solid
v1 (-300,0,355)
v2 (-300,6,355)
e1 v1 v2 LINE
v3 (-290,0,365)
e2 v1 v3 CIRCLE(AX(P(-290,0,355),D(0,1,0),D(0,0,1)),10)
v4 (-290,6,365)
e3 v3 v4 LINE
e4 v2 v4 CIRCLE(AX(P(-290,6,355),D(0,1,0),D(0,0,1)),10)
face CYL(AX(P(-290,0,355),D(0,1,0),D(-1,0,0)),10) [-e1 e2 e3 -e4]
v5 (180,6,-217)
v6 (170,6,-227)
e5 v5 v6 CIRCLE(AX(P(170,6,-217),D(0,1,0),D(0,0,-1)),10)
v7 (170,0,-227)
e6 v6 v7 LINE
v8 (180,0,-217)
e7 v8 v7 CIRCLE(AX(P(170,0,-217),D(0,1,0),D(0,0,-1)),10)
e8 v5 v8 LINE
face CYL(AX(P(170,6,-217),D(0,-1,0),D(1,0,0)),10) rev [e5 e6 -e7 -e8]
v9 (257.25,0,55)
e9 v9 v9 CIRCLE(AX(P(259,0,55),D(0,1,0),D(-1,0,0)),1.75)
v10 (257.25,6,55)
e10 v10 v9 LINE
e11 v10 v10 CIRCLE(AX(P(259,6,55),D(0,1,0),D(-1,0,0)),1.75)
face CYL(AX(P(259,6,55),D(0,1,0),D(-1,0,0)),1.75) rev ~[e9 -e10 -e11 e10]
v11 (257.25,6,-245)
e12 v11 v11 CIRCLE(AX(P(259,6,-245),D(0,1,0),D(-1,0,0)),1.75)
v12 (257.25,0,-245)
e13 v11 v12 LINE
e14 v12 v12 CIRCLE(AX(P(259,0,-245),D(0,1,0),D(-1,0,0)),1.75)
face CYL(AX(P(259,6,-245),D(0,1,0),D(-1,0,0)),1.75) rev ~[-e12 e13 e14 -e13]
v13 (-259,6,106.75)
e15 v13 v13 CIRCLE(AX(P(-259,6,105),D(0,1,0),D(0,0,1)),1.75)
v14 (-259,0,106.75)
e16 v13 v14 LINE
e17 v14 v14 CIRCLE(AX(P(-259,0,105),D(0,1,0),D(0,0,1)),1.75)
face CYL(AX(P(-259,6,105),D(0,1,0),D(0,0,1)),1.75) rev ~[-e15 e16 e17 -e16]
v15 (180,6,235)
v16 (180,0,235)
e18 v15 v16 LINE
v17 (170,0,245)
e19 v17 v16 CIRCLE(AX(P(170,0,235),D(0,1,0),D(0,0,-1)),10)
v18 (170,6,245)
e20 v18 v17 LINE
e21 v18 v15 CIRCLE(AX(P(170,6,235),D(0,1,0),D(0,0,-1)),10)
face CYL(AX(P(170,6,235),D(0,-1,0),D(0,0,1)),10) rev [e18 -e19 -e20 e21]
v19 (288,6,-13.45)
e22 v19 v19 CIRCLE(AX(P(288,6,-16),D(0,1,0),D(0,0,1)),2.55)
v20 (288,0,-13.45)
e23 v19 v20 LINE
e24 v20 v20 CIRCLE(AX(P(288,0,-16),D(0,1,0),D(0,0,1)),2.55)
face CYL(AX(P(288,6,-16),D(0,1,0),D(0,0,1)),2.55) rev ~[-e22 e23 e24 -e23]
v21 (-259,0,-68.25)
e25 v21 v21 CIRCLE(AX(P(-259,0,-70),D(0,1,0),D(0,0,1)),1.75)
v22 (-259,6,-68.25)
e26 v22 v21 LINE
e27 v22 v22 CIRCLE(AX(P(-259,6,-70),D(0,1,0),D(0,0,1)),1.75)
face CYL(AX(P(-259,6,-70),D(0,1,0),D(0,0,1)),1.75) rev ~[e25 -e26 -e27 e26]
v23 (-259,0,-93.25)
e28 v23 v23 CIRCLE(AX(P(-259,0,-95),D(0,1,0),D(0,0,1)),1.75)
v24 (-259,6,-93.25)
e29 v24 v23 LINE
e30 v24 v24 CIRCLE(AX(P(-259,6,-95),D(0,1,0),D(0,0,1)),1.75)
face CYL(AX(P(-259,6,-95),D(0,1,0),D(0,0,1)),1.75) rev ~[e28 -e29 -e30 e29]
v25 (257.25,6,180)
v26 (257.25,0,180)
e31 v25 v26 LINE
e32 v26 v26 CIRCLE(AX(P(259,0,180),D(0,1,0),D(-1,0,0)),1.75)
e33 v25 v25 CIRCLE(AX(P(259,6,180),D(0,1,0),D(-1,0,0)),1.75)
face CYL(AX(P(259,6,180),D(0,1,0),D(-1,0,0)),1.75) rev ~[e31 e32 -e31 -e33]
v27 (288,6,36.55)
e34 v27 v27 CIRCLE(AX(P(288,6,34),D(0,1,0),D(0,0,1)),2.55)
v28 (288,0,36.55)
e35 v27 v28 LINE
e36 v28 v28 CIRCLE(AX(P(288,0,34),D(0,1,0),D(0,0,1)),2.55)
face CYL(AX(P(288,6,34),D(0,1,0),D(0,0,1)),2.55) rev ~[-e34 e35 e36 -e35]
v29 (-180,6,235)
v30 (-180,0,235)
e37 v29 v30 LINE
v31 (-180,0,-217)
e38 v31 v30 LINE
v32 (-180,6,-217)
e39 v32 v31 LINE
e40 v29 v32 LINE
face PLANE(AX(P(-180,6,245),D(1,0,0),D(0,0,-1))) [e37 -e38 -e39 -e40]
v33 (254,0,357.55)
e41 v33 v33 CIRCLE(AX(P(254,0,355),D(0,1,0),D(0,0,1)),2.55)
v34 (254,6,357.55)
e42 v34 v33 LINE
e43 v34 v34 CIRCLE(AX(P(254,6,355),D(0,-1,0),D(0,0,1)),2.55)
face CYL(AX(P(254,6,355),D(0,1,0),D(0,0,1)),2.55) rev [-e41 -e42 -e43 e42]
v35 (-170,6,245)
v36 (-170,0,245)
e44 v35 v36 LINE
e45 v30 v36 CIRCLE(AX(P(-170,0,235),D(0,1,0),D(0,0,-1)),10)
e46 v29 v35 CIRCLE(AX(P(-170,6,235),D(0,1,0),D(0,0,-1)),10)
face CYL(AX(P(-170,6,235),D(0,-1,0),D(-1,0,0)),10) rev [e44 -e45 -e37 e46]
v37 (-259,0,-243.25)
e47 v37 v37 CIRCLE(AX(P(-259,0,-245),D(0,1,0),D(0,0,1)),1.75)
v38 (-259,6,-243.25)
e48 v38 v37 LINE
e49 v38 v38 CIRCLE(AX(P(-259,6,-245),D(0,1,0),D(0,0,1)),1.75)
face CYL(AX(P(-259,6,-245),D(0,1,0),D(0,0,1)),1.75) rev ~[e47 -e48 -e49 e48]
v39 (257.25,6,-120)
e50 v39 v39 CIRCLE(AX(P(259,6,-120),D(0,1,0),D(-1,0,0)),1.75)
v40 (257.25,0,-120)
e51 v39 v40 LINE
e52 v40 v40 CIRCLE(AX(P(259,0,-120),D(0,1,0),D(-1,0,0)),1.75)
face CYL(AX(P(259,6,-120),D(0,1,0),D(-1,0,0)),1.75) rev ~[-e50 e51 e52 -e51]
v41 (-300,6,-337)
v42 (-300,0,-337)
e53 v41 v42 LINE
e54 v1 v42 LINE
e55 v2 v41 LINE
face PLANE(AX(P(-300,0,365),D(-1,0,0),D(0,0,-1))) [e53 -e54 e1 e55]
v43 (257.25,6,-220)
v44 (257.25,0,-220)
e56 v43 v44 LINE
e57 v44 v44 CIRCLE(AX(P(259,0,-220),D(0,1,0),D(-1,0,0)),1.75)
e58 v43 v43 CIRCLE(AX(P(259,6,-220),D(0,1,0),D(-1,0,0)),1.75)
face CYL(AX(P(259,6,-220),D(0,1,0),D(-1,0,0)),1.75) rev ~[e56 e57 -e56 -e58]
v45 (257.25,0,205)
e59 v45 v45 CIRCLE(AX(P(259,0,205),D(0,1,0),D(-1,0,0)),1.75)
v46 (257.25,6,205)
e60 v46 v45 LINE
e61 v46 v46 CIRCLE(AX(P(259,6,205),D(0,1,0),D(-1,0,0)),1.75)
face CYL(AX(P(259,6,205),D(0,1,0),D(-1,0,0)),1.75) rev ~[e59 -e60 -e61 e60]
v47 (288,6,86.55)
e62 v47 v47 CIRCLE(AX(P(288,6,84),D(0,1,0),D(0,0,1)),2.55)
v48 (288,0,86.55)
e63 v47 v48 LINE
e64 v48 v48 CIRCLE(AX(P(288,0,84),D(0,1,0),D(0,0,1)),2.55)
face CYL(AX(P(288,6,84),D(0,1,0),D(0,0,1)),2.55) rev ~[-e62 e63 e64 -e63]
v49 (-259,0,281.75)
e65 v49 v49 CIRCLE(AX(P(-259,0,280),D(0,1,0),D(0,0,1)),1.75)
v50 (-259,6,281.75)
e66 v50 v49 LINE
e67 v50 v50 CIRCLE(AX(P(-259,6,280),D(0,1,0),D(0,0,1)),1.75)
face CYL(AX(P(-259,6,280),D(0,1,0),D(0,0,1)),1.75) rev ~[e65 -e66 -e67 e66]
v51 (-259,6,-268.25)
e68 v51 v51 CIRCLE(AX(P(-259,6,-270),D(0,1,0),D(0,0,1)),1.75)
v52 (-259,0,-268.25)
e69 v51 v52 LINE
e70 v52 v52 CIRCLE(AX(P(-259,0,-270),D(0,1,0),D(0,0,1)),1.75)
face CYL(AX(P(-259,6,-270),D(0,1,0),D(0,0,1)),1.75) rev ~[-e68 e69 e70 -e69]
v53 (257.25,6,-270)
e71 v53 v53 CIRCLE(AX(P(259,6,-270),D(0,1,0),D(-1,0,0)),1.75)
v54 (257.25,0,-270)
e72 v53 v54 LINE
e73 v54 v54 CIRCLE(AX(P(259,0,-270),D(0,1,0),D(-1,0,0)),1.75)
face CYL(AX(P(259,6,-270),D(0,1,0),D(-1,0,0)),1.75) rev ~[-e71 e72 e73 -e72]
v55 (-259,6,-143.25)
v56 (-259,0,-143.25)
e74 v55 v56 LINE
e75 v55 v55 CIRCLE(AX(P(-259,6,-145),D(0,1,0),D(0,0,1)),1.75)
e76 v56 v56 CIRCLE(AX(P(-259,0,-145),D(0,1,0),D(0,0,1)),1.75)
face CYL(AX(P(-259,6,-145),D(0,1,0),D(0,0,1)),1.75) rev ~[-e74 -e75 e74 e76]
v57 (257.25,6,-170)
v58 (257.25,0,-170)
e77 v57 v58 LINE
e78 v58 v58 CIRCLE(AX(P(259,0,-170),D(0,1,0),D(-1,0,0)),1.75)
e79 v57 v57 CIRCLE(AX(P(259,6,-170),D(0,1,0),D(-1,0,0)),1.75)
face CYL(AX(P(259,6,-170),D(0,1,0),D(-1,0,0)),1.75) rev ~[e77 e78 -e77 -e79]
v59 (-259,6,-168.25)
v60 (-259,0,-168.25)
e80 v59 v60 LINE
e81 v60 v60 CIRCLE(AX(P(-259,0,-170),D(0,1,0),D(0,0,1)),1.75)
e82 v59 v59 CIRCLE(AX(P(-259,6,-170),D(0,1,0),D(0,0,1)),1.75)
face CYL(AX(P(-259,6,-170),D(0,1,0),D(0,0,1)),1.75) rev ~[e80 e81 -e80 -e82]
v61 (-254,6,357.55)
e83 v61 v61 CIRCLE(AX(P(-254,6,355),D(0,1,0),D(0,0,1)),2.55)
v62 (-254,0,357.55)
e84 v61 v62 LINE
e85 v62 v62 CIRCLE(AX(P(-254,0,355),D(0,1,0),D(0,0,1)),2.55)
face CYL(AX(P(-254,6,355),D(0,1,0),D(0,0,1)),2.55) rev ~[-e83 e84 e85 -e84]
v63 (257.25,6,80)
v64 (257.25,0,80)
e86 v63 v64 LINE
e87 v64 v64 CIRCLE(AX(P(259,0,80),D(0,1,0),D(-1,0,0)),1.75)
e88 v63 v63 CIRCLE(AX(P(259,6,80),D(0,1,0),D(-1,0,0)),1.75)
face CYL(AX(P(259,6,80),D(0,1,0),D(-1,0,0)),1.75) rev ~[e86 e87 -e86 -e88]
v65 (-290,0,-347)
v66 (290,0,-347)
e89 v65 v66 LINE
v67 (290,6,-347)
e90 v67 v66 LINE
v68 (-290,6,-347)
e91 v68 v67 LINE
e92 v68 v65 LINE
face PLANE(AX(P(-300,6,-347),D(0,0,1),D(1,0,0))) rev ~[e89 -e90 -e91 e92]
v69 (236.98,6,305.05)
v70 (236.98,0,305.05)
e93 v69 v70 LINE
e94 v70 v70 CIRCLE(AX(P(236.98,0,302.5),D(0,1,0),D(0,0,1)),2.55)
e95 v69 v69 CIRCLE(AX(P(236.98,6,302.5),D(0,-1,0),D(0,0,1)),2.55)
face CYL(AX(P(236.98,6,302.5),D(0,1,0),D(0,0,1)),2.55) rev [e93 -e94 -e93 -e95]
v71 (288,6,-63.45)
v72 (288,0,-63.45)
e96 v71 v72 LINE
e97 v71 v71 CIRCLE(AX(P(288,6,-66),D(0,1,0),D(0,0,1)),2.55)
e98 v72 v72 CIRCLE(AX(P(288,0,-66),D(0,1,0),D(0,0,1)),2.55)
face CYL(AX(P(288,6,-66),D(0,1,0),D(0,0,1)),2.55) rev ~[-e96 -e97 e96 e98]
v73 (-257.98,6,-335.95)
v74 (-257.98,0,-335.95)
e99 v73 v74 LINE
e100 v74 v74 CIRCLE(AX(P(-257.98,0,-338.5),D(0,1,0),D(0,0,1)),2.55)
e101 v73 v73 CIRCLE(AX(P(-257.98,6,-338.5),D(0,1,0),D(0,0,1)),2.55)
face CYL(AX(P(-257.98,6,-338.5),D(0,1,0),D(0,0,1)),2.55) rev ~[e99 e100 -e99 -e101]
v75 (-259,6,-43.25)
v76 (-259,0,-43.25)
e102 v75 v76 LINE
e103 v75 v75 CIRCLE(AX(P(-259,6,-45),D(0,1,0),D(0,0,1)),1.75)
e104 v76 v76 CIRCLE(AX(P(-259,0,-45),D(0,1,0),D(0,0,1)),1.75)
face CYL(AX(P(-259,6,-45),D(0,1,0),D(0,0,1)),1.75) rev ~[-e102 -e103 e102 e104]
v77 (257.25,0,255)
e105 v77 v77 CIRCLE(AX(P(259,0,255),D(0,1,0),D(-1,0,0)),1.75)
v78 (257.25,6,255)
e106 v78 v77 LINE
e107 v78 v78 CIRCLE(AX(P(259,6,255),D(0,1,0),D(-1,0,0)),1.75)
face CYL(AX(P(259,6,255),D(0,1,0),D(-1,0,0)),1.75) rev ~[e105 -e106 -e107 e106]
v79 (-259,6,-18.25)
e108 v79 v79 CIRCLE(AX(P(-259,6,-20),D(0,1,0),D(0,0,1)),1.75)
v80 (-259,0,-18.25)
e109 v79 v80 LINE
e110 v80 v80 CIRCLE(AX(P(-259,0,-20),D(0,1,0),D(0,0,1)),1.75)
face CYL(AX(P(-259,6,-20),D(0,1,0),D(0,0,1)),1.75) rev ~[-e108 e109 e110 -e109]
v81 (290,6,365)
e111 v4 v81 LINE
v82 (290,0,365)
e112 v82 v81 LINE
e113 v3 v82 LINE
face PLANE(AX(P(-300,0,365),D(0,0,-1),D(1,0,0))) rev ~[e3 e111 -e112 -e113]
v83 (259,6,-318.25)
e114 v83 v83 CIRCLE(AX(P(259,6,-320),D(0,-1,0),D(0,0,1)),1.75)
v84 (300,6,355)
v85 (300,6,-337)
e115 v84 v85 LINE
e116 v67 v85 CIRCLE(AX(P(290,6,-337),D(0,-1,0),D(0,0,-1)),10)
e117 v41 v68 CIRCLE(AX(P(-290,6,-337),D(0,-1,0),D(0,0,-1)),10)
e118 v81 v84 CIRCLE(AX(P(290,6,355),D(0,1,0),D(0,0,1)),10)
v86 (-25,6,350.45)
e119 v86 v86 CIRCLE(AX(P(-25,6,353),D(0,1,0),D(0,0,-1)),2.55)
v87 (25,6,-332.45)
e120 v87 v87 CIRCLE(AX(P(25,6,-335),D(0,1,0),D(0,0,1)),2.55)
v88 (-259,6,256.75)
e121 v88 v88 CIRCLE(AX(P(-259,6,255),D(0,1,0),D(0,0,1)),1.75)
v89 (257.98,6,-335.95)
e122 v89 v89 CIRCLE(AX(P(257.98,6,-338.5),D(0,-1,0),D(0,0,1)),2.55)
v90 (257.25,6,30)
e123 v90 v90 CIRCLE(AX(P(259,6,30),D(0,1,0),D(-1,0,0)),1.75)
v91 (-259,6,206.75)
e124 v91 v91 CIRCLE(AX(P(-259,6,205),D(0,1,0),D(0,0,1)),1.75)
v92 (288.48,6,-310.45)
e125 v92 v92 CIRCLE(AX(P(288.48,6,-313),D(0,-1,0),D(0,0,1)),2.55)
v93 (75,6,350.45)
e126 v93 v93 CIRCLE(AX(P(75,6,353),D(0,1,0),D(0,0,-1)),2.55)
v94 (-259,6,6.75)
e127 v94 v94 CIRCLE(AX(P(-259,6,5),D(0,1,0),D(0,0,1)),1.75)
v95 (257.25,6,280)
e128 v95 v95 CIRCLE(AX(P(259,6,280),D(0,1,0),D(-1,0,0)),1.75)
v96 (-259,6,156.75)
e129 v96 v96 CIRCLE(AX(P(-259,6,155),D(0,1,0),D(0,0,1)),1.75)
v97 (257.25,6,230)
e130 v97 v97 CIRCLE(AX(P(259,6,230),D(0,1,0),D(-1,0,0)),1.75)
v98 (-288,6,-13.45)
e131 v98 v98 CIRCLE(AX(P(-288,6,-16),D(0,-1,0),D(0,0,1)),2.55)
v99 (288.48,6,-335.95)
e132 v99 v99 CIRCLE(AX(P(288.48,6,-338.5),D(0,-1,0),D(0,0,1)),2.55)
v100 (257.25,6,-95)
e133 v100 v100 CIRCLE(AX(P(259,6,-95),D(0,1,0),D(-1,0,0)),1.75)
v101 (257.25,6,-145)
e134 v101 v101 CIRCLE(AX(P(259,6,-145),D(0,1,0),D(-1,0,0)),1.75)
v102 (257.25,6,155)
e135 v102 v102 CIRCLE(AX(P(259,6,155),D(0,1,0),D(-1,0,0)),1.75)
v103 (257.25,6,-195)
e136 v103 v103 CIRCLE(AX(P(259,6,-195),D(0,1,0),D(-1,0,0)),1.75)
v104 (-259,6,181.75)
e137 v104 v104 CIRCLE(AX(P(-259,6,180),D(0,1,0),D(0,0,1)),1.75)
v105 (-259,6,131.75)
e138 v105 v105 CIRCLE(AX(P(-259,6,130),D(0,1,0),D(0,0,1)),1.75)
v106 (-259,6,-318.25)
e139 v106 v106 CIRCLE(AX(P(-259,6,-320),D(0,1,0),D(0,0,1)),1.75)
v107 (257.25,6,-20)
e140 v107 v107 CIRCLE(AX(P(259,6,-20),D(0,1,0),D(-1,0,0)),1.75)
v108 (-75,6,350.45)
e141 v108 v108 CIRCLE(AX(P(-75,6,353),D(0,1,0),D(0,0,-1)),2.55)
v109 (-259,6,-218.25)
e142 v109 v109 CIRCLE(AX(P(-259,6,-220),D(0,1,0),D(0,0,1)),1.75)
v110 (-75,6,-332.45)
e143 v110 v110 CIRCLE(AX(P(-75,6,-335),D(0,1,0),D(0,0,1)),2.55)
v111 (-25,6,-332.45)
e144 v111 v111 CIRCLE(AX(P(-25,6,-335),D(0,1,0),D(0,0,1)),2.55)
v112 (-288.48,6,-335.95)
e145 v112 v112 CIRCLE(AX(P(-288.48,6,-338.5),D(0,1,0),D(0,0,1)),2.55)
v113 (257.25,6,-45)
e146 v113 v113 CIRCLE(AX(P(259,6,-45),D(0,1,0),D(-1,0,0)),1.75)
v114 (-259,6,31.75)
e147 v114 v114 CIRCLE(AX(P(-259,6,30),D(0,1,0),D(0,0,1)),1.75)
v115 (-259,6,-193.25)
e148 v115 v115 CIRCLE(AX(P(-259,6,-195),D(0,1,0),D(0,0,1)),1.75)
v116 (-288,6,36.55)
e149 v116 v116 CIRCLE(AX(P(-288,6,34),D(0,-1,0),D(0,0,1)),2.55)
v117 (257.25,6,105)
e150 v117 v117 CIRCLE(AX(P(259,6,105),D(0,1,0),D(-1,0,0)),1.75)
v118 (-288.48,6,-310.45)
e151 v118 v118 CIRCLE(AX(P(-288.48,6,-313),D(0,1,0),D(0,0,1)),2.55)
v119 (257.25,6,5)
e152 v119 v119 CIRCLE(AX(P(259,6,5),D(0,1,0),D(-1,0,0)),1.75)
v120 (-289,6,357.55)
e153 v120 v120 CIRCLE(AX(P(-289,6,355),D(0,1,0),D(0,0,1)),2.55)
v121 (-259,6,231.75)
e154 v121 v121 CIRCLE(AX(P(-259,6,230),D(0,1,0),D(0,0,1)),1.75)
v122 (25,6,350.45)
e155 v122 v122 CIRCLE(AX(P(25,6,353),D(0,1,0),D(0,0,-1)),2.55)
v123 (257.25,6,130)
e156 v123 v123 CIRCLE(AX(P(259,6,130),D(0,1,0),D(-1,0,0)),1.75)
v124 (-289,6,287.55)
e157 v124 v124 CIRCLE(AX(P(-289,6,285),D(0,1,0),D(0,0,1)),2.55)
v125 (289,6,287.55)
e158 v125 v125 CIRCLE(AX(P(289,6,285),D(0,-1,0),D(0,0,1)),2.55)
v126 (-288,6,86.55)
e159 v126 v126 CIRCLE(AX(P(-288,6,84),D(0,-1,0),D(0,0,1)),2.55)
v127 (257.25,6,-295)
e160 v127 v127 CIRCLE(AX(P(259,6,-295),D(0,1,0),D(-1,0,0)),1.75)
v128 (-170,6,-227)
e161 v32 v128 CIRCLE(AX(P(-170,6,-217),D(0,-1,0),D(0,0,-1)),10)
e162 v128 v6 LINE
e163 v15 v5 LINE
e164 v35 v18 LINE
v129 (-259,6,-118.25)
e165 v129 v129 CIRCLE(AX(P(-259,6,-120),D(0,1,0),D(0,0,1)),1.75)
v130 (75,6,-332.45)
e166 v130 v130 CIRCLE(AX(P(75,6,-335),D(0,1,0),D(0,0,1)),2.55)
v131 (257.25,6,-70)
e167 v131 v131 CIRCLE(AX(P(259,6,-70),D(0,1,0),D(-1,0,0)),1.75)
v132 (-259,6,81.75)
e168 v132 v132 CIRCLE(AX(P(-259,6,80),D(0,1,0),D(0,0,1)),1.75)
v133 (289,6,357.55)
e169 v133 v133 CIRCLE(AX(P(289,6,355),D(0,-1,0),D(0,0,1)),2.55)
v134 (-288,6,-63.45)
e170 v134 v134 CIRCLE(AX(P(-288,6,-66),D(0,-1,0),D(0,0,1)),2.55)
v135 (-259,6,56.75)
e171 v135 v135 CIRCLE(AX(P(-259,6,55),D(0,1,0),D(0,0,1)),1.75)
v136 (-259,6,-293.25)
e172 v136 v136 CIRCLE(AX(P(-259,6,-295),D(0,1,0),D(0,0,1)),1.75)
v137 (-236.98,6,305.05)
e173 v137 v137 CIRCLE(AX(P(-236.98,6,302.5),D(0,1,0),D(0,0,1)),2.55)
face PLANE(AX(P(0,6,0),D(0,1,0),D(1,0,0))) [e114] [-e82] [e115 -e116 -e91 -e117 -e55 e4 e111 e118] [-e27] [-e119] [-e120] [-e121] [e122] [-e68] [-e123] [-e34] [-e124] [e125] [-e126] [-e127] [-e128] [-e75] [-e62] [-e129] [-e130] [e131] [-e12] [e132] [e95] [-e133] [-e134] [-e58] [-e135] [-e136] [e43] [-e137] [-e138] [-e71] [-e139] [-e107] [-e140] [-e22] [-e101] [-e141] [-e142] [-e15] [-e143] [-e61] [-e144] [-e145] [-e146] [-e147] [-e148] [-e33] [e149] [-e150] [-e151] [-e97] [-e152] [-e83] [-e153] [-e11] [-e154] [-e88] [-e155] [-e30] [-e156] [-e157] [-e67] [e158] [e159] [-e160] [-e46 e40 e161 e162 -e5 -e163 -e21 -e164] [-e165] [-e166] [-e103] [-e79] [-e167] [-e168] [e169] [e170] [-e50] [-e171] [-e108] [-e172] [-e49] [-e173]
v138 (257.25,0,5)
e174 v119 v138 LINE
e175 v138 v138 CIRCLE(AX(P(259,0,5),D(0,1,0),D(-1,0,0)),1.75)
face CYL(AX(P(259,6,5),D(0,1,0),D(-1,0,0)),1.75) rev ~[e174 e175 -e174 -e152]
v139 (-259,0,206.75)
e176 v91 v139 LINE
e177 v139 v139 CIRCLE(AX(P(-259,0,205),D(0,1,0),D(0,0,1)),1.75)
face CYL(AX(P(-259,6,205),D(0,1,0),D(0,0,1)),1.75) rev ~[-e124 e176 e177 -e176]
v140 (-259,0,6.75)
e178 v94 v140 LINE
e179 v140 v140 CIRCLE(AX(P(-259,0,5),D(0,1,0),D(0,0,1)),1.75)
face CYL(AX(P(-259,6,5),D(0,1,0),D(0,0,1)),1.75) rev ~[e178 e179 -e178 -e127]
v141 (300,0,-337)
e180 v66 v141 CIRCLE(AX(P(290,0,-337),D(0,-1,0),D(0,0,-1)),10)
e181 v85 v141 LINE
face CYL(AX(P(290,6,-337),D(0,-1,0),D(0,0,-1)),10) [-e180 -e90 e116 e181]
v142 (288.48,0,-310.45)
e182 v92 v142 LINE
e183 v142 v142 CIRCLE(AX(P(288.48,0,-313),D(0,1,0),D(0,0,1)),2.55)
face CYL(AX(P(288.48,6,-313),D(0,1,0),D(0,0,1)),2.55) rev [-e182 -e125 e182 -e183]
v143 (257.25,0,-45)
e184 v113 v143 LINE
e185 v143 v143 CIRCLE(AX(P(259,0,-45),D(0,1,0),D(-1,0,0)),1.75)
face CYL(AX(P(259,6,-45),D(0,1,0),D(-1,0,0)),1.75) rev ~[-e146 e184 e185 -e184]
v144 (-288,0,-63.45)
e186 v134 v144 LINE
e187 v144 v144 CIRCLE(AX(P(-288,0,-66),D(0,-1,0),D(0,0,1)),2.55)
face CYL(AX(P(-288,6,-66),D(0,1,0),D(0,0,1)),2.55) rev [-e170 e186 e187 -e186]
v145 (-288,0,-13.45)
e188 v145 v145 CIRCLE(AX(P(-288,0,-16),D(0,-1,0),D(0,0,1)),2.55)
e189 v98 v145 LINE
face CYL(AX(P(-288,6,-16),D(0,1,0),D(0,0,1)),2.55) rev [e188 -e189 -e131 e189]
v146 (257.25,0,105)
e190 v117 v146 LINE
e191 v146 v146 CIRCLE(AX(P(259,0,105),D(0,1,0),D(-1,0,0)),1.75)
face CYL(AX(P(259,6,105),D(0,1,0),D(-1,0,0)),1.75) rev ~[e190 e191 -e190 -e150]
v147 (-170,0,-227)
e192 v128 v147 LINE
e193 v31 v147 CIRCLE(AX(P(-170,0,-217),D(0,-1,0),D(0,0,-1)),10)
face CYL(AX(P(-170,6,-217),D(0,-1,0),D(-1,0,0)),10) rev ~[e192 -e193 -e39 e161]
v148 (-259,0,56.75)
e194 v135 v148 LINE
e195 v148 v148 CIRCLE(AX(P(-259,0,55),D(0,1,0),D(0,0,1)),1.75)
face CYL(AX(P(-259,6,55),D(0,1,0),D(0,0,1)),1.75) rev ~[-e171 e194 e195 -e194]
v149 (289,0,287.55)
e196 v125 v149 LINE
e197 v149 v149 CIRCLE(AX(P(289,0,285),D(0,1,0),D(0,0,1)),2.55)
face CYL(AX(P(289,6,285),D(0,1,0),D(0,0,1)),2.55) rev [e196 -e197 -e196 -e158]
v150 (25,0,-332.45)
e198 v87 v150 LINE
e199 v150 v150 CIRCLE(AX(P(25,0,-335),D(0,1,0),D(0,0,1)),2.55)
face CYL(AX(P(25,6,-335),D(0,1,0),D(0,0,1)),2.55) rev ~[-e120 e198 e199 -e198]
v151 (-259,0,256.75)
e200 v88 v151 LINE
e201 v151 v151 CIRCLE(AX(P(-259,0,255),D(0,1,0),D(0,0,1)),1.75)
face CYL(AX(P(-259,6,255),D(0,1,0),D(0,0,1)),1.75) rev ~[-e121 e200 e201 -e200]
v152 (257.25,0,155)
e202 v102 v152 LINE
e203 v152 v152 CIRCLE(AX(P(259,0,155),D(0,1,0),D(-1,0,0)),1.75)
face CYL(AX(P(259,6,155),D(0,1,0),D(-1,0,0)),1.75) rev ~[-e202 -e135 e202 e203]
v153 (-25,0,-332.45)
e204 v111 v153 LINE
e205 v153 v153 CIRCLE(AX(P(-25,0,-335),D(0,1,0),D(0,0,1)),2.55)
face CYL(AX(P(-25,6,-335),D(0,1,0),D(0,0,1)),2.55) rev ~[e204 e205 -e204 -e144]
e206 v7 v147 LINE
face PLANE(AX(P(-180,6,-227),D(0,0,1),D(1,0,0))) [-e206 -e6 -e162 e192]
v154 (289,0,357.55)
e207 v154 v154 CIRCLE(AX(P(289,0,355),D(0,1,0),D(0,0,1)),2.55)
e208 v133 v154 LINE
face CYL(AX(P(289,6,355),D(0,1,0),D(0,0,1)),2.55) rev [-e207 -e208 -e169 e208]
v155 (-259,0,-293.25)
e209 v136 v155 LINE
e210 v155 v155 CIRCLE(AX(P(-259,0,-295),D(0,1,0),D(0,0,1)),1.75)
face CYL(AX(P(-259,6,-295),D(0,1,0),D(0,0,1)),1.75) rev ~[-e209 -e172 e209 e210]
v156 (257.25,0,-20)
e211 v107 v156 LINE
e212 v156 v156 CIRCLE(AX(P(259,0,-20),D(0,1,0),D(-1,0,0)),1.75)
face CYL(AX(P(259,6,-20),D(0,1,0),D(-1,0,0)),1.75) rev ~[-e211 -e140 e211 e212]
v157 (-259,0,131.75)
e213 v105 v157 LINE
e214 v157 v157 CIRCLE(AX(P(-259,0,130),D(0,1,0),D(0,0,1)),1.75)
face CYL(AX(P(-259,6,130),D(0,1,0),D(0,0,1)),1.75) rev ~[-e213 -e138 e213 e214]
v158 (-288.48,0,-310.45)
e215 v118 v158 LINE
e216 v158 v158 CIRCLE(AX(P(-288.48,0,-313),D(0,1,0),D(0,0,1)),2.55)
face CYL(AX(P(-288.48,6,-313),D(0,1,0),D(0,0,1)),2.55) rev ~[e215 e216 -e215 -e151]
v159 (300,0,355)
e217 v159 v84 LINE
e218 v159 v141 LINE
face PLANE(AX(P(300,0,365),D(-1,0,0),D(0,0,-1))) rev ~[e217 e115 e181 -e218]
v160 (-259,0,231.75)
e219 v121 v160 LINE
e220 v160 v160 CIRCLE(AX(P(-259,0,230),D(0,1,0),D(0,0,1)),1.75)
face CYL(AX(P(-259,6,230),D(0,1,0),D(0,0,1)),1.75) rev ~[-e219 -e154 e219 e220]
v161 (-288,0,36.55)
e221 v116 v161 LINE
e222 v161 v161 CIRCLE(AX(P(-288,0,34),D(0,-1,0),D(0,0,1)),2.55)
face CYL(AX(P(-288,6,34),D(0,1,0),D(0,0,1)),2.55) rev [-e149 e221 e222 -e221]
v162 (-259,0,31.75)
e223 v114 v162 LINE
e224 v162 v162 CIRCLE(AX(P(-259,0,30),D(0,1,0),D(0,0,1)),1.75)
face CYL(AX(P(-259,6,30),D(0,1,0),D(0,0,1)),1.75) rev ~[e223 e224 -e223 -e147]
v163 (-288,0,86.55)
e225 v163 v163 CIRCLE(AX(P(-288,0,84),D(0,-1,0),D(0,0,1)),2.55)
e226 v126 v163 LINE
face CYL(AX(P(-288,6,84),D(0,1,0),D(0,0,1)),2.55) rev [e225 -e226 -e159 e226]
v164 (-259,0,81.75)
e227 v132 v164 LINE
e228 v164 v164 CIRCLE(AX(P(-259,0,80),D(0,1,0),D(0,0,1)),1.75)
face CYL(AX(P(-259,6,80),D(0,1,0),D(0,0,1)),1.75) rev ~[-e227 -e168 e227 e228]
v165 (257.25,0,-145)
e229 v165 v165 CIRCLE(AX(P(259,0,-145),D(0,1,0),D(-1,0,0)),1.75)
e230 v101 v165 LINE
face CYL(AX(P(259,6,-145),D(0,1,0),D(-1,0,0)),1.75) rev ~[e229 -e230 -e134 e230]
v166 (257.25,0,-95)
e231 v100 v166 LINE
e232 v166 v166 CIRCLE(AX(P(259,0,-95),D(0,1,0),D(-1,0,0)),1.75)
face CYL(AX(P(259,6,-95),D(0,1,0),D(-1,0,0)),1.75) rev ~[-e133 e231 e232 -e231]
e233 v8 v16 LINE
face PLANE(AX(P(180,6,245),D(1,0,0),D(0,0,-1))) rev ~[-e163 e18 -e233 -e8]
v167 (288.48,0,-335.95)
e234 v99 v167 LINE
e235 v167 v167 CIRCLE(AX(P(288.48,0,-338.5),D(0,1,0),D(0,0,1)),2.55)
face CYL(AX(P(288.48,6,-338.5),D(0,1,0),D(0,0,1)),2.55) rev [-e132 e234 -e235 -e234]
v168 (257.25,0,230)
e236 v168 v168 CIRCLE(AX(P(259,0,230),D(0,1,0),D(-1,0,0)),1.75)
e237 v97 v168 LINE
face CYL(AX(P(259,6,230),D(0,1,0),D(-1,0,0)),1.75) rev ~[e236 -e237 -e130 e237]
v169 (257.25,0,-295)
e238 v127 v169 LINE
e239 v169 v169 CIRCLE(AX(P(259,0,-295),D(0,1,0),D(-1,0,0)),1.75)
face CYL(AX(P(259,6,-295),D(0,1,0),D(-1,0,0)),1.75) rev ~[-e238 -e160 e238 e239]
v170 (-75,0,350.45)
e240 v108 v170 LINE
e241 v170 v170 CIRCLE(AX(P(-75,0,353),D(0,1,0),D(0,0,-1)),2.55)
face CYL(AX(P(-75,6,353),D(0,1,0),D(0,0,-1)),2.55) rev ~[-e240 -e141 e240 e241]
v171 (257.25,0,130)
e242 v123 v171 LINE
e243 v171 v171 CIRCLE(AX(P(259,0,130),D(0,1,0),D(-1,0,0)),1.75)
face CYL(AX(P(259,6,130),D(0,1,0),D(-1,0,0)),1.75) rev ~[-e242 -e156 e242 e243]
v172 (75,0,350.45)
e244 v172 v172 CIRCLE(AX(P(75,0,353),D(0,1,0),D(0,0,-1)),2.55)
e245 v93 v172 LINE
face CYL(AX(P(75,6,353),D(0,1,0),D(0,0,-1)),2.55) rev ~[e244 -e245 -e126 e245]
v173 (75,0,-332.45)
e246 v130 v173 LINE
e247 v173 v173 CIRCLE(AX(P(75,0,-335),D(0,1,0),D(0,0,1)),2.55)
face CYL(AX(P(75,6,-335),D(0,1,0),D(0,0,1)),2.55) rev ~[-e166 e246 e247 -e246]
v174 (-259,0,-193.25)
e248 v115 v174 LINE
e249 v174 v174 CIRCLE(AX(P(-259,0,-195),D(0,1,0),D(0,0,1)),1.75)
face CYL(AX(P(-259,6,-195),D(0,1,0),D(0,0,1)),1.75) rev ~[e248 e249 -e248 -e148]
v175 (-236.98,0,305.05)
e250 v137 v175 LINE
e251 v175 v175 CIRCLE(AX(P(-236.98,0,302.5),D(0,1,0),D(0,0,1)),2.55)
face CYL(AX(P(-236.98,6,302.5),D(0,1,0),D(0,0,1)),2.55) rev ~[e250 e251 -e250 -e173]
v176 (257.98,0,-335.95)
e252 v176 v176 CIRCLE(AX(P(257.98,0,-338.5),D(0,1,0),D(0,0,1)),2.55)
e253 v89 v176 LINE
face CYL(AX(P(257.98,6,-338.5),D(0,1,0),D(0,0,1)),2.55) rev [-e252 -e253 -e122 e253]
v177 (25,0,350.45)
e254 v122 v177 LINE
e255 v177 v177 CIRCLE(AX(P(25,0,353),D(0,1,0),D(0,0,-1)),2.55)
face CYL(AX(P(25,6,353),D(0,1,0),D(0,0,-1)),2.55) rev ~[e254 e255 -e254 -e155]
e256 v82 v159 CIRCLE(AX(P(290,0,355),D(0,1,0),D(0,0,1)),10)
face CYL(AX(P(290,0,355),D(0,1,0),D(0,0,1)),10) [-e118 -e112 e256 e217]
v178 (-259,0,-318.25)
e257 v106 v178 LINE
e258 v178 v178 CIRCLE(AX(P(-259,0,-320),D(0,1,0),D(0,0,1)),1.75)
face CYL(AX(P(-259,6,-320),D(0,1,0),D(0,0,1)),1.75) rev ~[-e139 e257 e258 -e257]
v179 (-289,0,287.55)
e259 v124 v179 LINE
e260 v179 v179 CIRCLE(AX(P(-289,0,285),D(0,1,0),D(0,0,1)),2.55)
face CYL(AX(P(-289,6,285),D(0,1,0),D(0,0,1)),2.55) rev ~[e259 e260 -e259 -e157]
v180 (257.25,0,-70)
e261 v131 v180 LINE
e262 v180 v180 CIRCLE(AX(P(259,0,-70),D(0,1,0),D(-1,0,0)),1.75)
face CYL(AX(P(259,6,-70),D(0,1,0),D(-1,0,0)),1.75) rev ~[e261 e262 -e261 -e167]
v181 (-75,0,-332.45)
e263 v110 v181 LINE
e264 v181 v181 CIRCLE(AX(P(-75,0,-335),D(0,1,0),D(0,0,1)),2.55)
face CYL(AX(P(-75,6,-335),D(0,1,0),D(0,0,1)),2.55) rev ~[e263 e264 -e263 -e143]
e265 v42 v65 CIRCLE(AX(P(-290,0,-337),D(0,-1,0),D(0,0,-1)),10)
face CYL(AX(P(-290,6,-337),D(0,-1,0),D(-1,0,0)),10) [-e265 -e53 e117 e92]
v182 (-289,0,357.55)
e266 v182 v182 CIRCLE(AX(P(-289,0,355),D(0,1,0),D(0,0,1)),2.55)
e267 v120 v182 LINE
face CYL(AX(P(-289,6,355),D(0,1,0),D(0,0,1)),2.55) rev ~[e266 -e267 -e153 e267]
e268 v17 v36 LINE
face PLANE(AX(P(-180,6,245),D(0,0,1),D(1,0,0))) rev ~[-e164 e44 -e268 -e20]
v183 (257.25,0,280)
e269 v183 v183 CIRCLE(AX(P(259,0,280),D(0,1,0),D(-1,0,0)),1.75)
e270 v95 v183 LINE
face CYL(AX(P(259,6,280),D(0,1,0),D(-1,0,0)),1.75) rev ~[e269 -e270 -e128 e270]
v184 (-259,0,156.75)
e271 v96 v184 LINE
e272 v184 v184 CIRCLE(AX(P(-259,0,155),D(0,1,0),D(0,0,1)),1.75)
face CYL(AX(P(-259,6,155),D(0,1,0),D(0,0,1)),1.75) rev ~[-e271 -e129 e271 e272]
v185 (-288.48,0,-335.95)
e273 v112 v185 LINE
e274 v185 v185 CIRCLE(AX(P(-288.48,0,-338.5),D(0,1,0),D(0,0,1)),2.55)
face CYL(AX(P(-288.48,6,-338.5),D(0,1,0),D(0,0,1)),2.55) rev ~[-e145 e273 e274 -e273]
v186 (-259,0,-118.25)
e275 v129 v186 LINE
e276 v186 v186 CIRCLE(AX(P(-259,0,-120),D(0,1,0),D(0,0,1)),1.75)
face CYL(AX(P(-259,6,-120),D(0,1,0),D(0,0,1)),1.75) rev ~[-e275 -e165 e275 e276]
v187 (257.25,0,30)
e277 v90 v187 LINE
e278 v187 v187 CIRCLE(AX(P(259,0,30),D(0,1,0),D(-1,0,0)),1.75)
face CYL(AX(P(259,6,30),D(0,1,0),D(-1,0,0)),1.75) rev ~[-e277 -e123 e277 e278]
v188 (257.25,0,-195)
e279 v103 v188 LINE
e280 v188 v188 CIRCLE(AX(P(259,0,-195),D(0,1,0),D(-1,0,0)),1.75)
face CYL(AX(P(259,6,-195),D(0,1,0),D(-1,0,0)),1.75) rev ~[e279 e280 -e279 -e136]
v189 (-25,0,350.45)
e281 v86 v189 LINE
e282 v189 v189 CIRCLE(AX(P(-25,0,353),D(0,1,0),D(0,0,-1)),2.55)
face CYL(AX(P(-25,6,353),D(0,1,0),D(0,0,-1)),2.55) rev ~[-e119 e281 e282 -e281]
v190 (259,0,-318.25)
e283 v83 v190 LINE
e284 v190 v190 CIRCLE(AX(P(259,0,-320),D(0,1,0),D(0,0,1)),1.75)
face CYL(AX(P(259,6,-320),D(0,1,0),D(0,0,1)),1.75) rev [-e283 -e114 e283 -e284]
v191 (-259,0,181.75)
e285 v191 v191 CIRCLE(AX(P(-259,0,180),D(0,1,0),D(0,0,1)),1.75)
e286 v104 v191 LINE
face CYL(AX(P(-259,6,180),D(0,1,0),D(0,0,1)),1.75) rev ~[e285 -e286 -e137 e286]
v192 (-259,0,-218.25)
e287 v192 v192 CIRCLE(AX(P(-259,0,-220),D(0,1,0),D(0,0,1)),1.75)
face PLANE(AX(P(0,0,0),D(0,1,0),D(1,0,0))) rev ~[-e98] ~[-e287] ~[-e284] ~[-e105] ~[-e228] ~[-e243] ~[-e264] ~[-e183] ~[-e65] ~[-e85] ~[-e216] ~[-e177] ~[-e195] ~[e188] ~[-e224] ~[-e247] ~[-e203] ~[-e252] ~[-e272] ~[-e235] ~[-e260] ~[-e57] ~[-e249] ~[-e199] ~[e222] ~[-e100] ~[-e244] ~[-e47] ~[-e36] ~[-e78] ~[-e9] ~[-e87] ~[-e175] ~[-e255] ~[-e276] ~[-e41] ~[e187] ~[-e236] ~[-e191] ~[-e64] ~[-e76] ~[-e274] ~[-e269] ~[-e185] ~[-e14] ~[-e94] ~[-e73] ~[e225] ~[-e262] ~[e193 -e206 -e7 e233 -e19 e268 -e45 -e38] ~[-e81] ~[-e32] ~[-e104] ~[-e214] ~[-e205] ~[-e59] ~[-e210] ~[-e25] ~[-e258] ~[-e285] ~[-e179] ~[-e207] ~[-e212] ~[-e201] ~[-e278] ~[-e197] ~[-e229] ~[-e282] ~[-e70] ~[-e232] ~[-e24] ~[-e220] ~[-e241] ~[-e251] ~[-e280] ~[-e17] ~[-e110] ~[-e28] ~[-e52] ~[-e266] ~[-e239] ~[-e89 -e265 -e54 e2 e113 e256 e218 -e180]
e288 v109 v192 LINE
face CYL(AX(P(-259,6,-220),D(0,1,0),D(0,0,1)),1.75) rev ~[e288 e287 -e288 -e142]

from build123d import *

# Parameters (mm, degrees)
SKETCH1_W                = 600
SKETCH1_H                = 730
BOSS_EXTRUDE1_DEPTH      = 6
SKETCH2_R                = 1.75
CUT_EXTRUDE1_DEPTH       = 473.505026428
LPATTERN1_COUNT          = 25
LPATTERN1_PITCH          = 25
MIRROR2_COPY_1_SKETCH_R  = 1.75
MIRROR2_COPY_1_DEPTH     = 473.505026428
MIRROR2_COPY_2_SKETCH_R  = 1.75
MIRROR2_COPY_2_DEPTH     = 473.505026428
MIRROR2_COPY_3_SKETCH_R  = 1.75
MIRROR2_COPY_3_DEPTH     = 473.505026428
MIRROR2_COPY_4_SKETCH_R  = 1.75
MIRROR2_COPY_4_DEPTH     = 473.505026428
MIRROR2_COPY_5_SKETCH_R  = 1.75
MIRROR2_COPY_5_DEPTH     = 473.505026428
MIRROR2_COPY_6_SKETCH_R  = 1.75
MIRROR2_COPY_6_DEPTH     = 473.505026428
MIRROR2_COPY_7_SKETCH_R  = 1.75
MIRROR2_COPY_7_DEPTH     = 473.505026428
MIRROR2_COPY_8_SKETCH_R  = 1.75
MIRROR2_COPY_8_DEPTH     = 473.505026428
MIRROR2_COPY_9_SKETCH_R  = 1.75
MIRROR2_COPY_9_DEPTH     = 473.505026428
MIRROR2_COPY_10_SKETCH_R = 1.75
MIRROR2_COPY_10_DEPTH    = 473.505026428
MIRROR2_COPY_11_SKETCH_R = 1.75
MIRROR2_COPY_11_DEPTH    = 473.505026428
MIRROR2_COPY_12_SKETCH_R = 1.75
MIRROR2_COPY_12_DEPTH    = 473.505026428
MIRROR2_COPY_13_SKETCH_R = 1.75
MIRROR2_COPY_13_DEPTH    = 473.505026428
MIRROR2_COPY_14_SKETCH_R = 1.75
MIRROR2_COPY_14_DEPTH    = 473.505026428
MIRROR2_COPY_15_SKETCH_R = 1.75
MIRROR2_COPY_15_DEPTH    = 473.505026428
MIRROR2_COPY_16_SKETCH_R = 1.75
MIRROR2_COPY_16_DEPTH    = 473.505026428
MIRROR2_COPY_17_SKETCH_R = 1.75
MIRROR2_COPY_17_DEPTH    = 473.505026428
MIRROR2_COPY_18_SKETCH_R = 1.75
MIRROR2_COPY_18_DEPTH    = 473.505026428
MIRROR2_COPY_19_SKETCH_R = 1.75
MIRROR2_COPY_19_DEPTH    = 473.505026428
MIRROR2_COPY_20_SKETCH_R = 1.75
MIRROR2_COPY_20_DEPTH    = 473.505026428
MIRROR2_COPY_21_SKETCH_R = 1.75
MIRROR2_COPY_21_DEPTH    = 473.505026428
MIRROR2_COPY_22_SKETCH_R = 1.75
MIRROR2_COPY_22_DEPTH    = 473.505026428
MIRROR2_COPY_23_SKETCH_R = 1.75
MIRROR2_COPY_23_DEPTH    = 473.505026428
MIRROR2_COPY_24_SKETCH_R = 1.75
MIRROR2_COPY_24_DEPTH    = 473.505026428
SKETCH3_R                = 2.55
CUT_EXTRUDE2_DEPTH       = 13
SKETCH5_R                = 2.55
CUT_EXTRUDE4_DEPTH       = 473.505026428
SKETCH6_W                = 600
SKETCH6_H                = 18
CUT_EXTRUDE5_DEPTH       = 6
CUT_EXTRUDE6_REACH       = 474.505
SKETCH7_R                = 2.55
CUT_EXTRUDE7_REACH       = 474.505
SKETCH8_R                = 2.55
CUT_EXTRUDE8_REACH       = 474.505
SKETCH9_W                = 360
SKETCH9_H                = 472
FILLET2_R                = 10


with BuildPart() as part:
    # Sketch1 → Boss-Extrude1 (new body)
    with BuildSketch(Plane(origin=(0, 0, 0), x_dir=(1, 0, 0), z_dir=(0, 1, 0))):
        Rectangle(SKETCH1_W, SKETCH1_H)
    extrude(amount=BOSS_EXTRUDE1_DEPTH)

    # Sketch2 → Cut-Extrude1 (cut, through all)
    with BuildSketch(Plane(origin=(0, 6, 0), x_dir=(1, 0, 0), z_dir=(0, 1, 0))):
        with Locations(Location((-259, 320, 0), (0, 0, 270))):
            Circle(SKETCH2_R)
    cut_extrude1 = extrude(amount=-CUT_EXTRUDE1_DEPTH, mode=Mode.SUBTRACT)

    # LPattern1: Cut-Extrude1 ×25
    with Locations(*[(0, 0, i * LPATTERN1_PITCH) for i in range(1, LPATTERN1_COUNT)]):
        add(cut_extrude1, mode=Mode.SUBTRACT)

    # Mirror2: Cut-Extrude1 across plane
    add(cut_extrude1.mirror(Plane(origin=(0, 0, 0), x_dir=(0, 0, 1), z_dir=(1, 0, 0))), mode=Mode.SUBTRACT)

    # Mirror2 copy 1 sketch → Mirror2 copy 1 (cut, through all)
    with BuildSketch(Plane(origin=(0, 6, 25), x_dir=(-1, 0, 0), z_dir=(0, 1, 0))):
        with Locations((-259, -320)):
            Circle(MIRROR2_COPY_1_SKETCH_R)
    extrude(amount=-MIRROR2_COPY_1_DEPTH, mode=Mode.SUBTRACT)

    # Mirror2 copy 2 sketch → Mirror2 copy 2 (cut, through all)
    with BuildSketch(Plane(origin=(0, 6, 50), x_dir=(-1, 0, 0), z_dir=(0, 1, 0))):
        with Locations((-259, -320)):
            Circle(MIRROR2_COPY_2_SKETCH_R)
    extrude(amount=-MIRROR2_COPY_2_DEPTH, mode=Mode.SUBTRACT)

    # Mirror2 copy 3 sketch → Mirror2 copy 3 (cut, through all)
    with BuildSketch(Plane(origin=(0, 6, 75), x_dir=(-1, 0, 0), z_dir=(0, 1, 0))):
        with Locations((-259, -320)):
            Circle(MIRROR2_COPY_3_SKETCH_R)
    extrude(amount=-MIRROR2_COPY_3_DEPTH, mode=Mode.SUBTRACT)

    # Mirror2 copy 4 sketch → Mirror2 copy 4 (cut, through all)
    with BuildSketch(Plane(origin=(0, 6, 100), x_dir=(-1, 0, 0), z_dir=(0, 1, 0))):
        with Locations((-259, -320)):
            Circle(MIRROR2_COPY_4_SKETCH_R)
    extrude(amount=-MIRROR2_COPY_4_DEPTH, mode=Mode.SUBTRACT)

    # Mirror2 copy 5 sketch → Mirror2 copy 5 (cut, through all)
    with BuildSketch(Plane(origin=(0, 6, 125), x_dir=(-1, 0, 0), z_dir=(0, 1, 0))):
        with Locations((-259, -320)):
            Circle(MIRROR2_COPY_5_SKETCH_R)
    extrude(amount=-MIRROR2_COPY_5_DEPTH, mode=Mode.SUBTRACT)

    # Mirror2 copy 6 sketch → Mirror2 copy 6 (cut, through all)
    with BuildSketch(Plane(origin=(0, 6, 150), x_dir=(-1, 0, 0), z_dir=(0, 1, 0))):
        with Locations((-259, -320)):
            Circle(MIRROR2_COPY_6_SKETCH_R)
    extrude(amount=-MIRROR2_COPY_6_DEPTH, mode=Mode.SUBTRACT)

    # Mirror2 copy 7 sketch → Mirror2 copy 7 (cut, through all)
    with BuildSketch(Plane(origin=(0, 6, 175), x_dir=(-1, 0, 0), z_dir=(0, 1, 0))):
        with Locations((-259, -320)):
            Circle(MIRROR2_COPY_7_SKETCH_R)
    extrude(amount=-MIRROR2_COPY_7_DEPTH, mode=Mode.SUBTRACT)

    # Mirror2 copy 8 sketch → Mirror2 copy 8 (cut, through all)
    with BuildSketch(Plane(origin=(0, 6, 200), x_dir=(-1, 0, 0), z_dir=(0, 1, 0))):
        with Locations((-259, -320)):
            Circle(MIRROR2_COPY_8_SKETCH_R)
    extrude(amount=-MIRROR2_COPY_8_DEPTH, mode=Mode.SUBTRACT)

    # Mirror2 copy 9 sketch → Mirror2 copy 9 (cut, through all)
    with BuildSketch(Plane(origin=(0, 6, 225), x_dir=(-1, 0, 0), z_dir=(0, 1, 0))):
        with Locations((-259, -320)):
            Circle(MIRROR2_COPY_9_SKETCH_R)
    extrude(amount=-MIRROR2_COPY_9_DEPTH, mode=Mode.SUBTRACT)

    # Mirror2 copy 10 sketch → Mirror2 copy 10 (cut, through all)
    with BuildSketch(Plane(origin=(0, 6, 250), x_dir=(-1, 0, 0), z_dir=(0, 1, 0))):
        with Locations((-259, -320)):
            Circle(MIRROR2_COPY_10_SKETCH_R)
    extrude(amount=-MIRROR2_COPY_10_DEPTH, mode=Mode.SUBTRACT)

    # Mirror2 copy 11 sketch → Mirror2 copy 11 (cut, through all)
    with BuildSketch(Plane(origin=(0, 6, 275), x_dir=(-1, 0, 0), z_dir=(0, 1, 0))):
        with Locations((-259, -320)):
            Circle(MIRROR2_COPY_11_SKETCH_R)
    extrude(amount=-MIRROR2_COPY_11_DEPTH, mode=Mode.SUBTRACT)

    # Mirror2 copy 12 sketch → Mirror2 copy 12 (cut, through all)
    with BuildSketch(Plane(origin=(0, 6, 300), x_dir=(-1, 0, 0), z_dir=(0, 1, 0))):
        with Locations((-259, -320)):
            Circle(MIRROR2_COPY_12_SKETCH_R)
    extrude(amount=-MIRROR2_COPY_12_DEPTH, mode=Mode.SUBTRACT)

    # Mirror2 copy 13 sketch → Mirror2 copy 13 (cut, through all)
    with BuildSketch(Plane(origin=(0, 6, 325), x_dir=(-1, 0, 0), z_dir=(0, 1, 0))):
        with Locations((-259, -320)):
            Circle(MIRROR2_COPY_13_SKETCH_R)
    extrude(amount=-MIRROR2_COPY_13_DEPTH, mode=Mode.SUBTRACT)

    # Mirror2 copy 14 sketch → Mirror2 copy 14 (cut, through all)
    with BuildSketch(Plane(origin=(0, 6, 350), x_dir=(-1, 0, 0), z_dir=(0, 1, 0))):
        with Locations((-259, -320)):
            Circle(MIRROR2_COPY_14_SKETCH_R)
    extrude(amount=-MIRROR2_COPY_14_DEPTH, mode=Mode.SUBTRACT)

    # Mirror2 copy 15 sketch → Mirror2 copy 15 (cut, through all)
    with BuildSketch(Plane(origin=(0, 6, 375), x_dir=(-1, 0, 0), z_dir=(0, 1, 0))):
        with Locations((-259, -320)):
            Circle(MIRROR2_COPY_15_SKETCH_R)
    extrude(amount=-MIRROR2_COPY_15_DEPTH, mode=Mode.SUBTRACT)

    # Mirror2 copy 16 sketch → Mirror2 copy 16 (cut, through all)
    with BuildSketch(Plane(origin=(0, 6, 400), x_dir=(-1, 0, 0), z_dir=(0, 1, 0))):
        with Locations((-259, -320)):
            Circle(MIRROR2_COPY_16_SKETCH_R)
    extrude(amount=-MIRROR2_COPY_16_DEPTH, mode=Mode.SUBTRACT)

    # Mirror2 copy 17 sketch → Mirror2 copy 17 (cut, through all)
    with BuildSketch(Plane(origin=(0, 6, 425), x_dir=(-1, 0, 0), z_dir=(0, 1, 0))):
        with Locations((-259, -320)):
            Circle(MIRROR2_COPY_17_SKETCH_R)
    extrude(amount=-MIRROR2_COPY_17_DEPTH, mode=Mode.SUBTRACT)

    # Mirror2 copy 18 sketch → Mirror2 copy 18 (cut, through all)
    with BuildSketch(Plane(origin=(0, 6, 450), x_dir=(-1, 0, 0), z_dir=(0, 1, 0))):
        with Locations((-259, -320)):
            Circle(MIRROR2_COPY_18_SKETCH_R)
    extrude(amount=-MIRROR2_COPY_18_DEPTH, mode=Mode.SUBTRACT)

    # Mirror2 copy 19 sketch → Mirror2 copy 19 (cut, through all)
    with BuildSketch(Plane(origin=(0, 6, 475), x_dir=(-1, 0, 0), z_dir=(0, 1, 0))):
        with Locations((-259, -320)):
            Circle(MIRROR2_COPY_19_SKETCH_R)
    extrude(amount=-MIRROR2_COPY_19_DEPTH, mode=Mode.SUBTRACT)

    # Mirror2 copy 20 sketch → Mirror2 copy 20 (cut, through all)
    with BuildSketch(Plane(origin=(0, 6, 500), x_dir=(-1, 0, 0), z_dir=(0, 1, 0))):
        with Locations((-259, -320)):
            Circle(MIRROR2_COPY_20_SKETCH_R)
    extrude(amount=-MIRROR2_COPY_20_DEPTH, mode=Mode.SUBTRACT)

    # Mirror2 copy 21 sketch → Mirror2 copy 21 (cut, through all)
    with BuildSketch(Plane(origin=(0, 6, 525), x_dir=(-1, 0, 0), z_dir=(0, 1, 0))):
        with Locations((-259, -320)):
            Circle(MIRROR2_COPY_21_SKETCH_R)
    extrude(amount=-MIRROR2_COPY_21_DEPTH, mode=Mode.SUBTRACT)

    # Mirror2 copy 22 sketch → Mirror2 copy 22 (cut, through all)
    with BuildSketch(Plane(origin=(0, 6, 550), x_dir=(-1, 0, 0), z_dir=(0, 1, 0))):
        with Locations((-259, -320)):
            Circle(MIRROR2_COPY_22_SKETCH_R)
    extrude(amount=-MIRROR2_COPY_22_DEPTH, mode=Mode.SUBTRACT)

    # Mirror2 copy 23 sketch → Mirror2 copy 23 (cut, through all)
    with BuildSketch(Plane(origin=(0, 6, 575), x_dir=(-1, 0, 0), z_dir=(0, 1, 0))):
        with Locations((-259, -320)):
            Circle(MIRROR2_COPY_23_SKETCH_R)
    extrude(amount=-MIRROR2_COPY_23_DEPTH, mode=Mode.SUBTRACT)

    # Mirror2 copy 24 sketch → Mirror2 copy 24 (cut, through all)
    with BuildSketch(Plane(origin=(0, 6, 600), x_dir=(-1, 0, 0), z_dir=(0, 1, 0))):
        with Locations((-259, -320)):
            Circle(MIRROR2_COPY_24_SKETCH_R)
    extrude(amount=-MIRROR2_COPY_24_DEPTH, mode=Mode.SUBTRACT)

    # Sketch3 → Cut-Extrude2 (cut)
    with BuildSketch(Plane(origin=(0, 6, 0), x_dir=(1, 0, 0), z_dir=(0, 1, 0))):
        with Locations(Location((-289, -285, 0), (0, 0, 270))):
            Circle(SKETCH3_R)
        with Locations(Location((-254, -355, 0), (0, 0, 270))):
            Circle(SKETCH3_R)
        with Locations(Location((-289, -355, 0), (0, 0, 270))):
            Circle(SKETCH3_R)
        with Locations(Location((-236.98, -302.5, 0), (0, 0, 270))):
            Circle(SKETCH3_R)
    cut_extrude2 = extrude(amount=-CUT_EXTRUDE2_DEPTH, mode=Mode.SUBTRACT)

    # Mirror3: Cut-Extrude2 across plane
    add(cut_extrude2.mirror(Plane(origin=(0, 0, 0), x_dir=(0, 0, 1), z_dir=(1, 0, 0))), mode=Mode.SUBTRACT)

    # Sketch5 → Cut-Extrude4 (cut, through all)
    with BuildSketch(Plane(origin=(0, 6, 0), x_dir=(1, 0, 0), z_dir=(0, 1, 0))):
        with Locations(Location((-288.48, 313, 0), (0, 0, 270))):
            Circle(SKETCH5_R)
        with Locations(Location((-257.98, 338.5, 0), (0, 0, 270))):
            Circle(SKETCH5_R)
        with Locations(Location((-288.48, 338.5, 0), (0, 0, 270))):
            Circle(SKETCH5_R)
    cut_extrude4 = extrude(amount=-CUT_EXTRUDE4_DEPTH, mode=Mode.SUBTRACT)

    # Mirror5: Cut-Extrude4 across plane
    add(cut_extrude4.mirror(Plane(origin=(0, 0, 0), x_dir=(0, 0, 1), z_dir=(1, 0, 0))), mode=Mode.SUBTRACT)

    # Sketch6 → Cut-Extrude5 (cut)
    with BuildSketch(Plane(origin=(0, 6, 0), x_dir=(1, 0, 0), z_dir=(0, 1, 0))):
        with Locations((0, 356)):
            Rectangle(SKETCH6_W, SKETCH6_H)
    extrude(amount=-CUT_EXTRUDE5_DEPTH, mode=Mode.SUBTRACT)

    # Sketch7 → Cut-Extrude6 (cut, up to next)
    with BuildSketch(Plane(origin=(0, 6, 0), x_dir=(1, 0, 0), z_dir=(0, 1, 0)), mode=Mode.PRIVATE) as cut_extrude6_sk1:
        with Locations(Location((-75, 335, 0), (0, 0, 270))):
            Circle(SKETCH7_R)
    cut_extrude6_tool1 = extrude(cut_extrude6_sk1.sketch, amount=-CUT_EXTRUDE6_REACH, mode=Mode.PRIVATE) & part.part
    # Sketch7 → Cut-Extrude6 (cut, up to next)
    with BuildSketch(Plane(origin=(0, 6, 0), x_dir=(1, 0, 0), z_dir=(0, 1, 0)), mode=Mode.PRIVATE) as cut_extrude6_sk2:
        with Locations(Location((-25, 335, 0), (0, 0, 270))):
            Circle(SKETCH7_R)
    cut_extrude6_tool2 = extrude(cut_extrude6_sk2.sketch, amount=-CUT_EXTRUDE6_REACH, mode=Mode.PRIVATE) & part.part
    # Sketch7 → Cut-Extrude6 (cut, up to next)
    with BuildSketch(Plane(origin=(0, 6, 0), x_dir=(1, 0, 0), z_dir=(0, 1, 0)), mode=Mode.PRIVATE) as cut_extrude6_sk3:
        with Locations(Location((25, 335, 0), (0, 0, 270))):
            Circle(SKETCH7_R)
    cut_extrude6_tool3 = extrude(cut_extrude6_sk3.sketch, amount=-CUT_EXTRUDE6_REACH, mode=Mode.PRIVATE) & part.part
    # Sketch7 → Cut-Extrude6 (cut, up to next)
    with BuildSketch(Plane(origin=(0, 6, 0), x_dir=(1, 0, 0), z_dir=(0, 1, 0)), mode=Mode.PRIVATE) as cut_extrude6_sk4:
        with Locations(Location((75, 335, 0), (0, 0, 270))):
            Circle(SKETCH7_R)
    cut_extrude6_tool4 = extrude(cut_extrude6_sk4.sketch, amount=-CUT_EXTRUDE6_REACH, mode=Mode.PRIVATE) & part.part
    # Sketch7 → Cut-Extrude6 (cut, up to next)
    with BuildSketch(Plane(origin=(0, 6, 0), x_dir=(1, 0, 0), z_dir=(0, 1, 0)), mode=Mode.PRIVATE) as cut_extrude6_sk5:
        with Locations(Location((75, -353, 0), (0, 0, 90))):
            Circle(SKETCH7_R)
    cut_extrude6_tool5 = extrude(cut_extrude6_sk5.sketch, amount=-CUT_EXTRUDE6_REACH, mode=Mode.PRIVATE) & part.part
    # Sketch7 → Cut-Extrude6 (cut, up to next)
    with BuildSketch(Plane(origin=(0, 6, 0), x_dir=(1, 0, 0), z_dir=(0, 1, 0)), mode=Mode.PRIVATE) as cut_extrude6_sk6:
        with Locations(Location((25, -353, 0), (0, 0, 90))):
            Circle(SKETCH7_R)
    cut_extrude6_tool6 = extrude(cut_extrude6_sk6.sketch, amount=-CUT_EXTRUDE6_REACH, mode=Mode.PRIVATE) & part.part
    # Sketch7 → Cut-Extrude6 (cut, up to next)
    with BuildSketch(Plane(origin=(0, 6, 0), x_dir=(1, 0, 0), z_dir=(0, 1, 0)), mode=Mode.PRIVATE) as cut_extrude6_sk7:
        with Locations(Location((-25, -353, 0), (0, 0, 90))):
            Circle(SKETCH7_R)
    cut_extrude6_tool7 = extrude(cut_extrude6_sk7.sketch, amount=-CUT_EXTRUDE6_REACH, mode=Mode.PRIVATE) & part.part
    # Sketch7 → Cut-Extrude6 (cut, up to next)
    with BuildSketch(Plane(origin=(0, 6, 0), x_dir=(1, 0, 0), z_dir=(0, 1, 0)), mode=Mode.PRIVATE) as cut_extrude6_sk8:
        with Locations(Location((-75, -353, 0), (0, 0, 90))):
            Circle(SKETCH7_R)
    cut_extrude6_tool8 = extrude(cut_extrude6_sk8.sketch, amount=-CUT_EXTRUDE6_REACH, mode=Mode.PRIVATE) & part.part
    add(cut_extrude6_tool1.solids().sort_by_distance((-75, 6, -335))[0], mode=Mode.SUBTRACT)
    add(cut_extrude6_tool2.solids().sort_by_distance((-25, 6, -335))[0], mode=Mode.SUBTRACT)
    add(cut_extrude6_tool3.solids().sort_by_distance((25, 6, -335))[0], mode=Mode.SUBTRACT)
    add(cut_extrude6_tool4.solids().sort_by_distance((75, 6, -335))[0], mode=Mode.SUBTRACT)
    add(cut_extrude6_tool5.solids().sort_by_distance((75, 6, 353))[0], mode=Mode.SUBTRACT)
    add(cut_extrude6_tool6.solids().sort_by_distance((25, 6, 353))[0], mode=Mode.SUBTRACT)
    add(cut_extrude6_tool7.solids().sort_by_distance((-25, 6, 353))[0], mode=Mode.SUBTRACT)
    add(cut_extrude6_tool8.solids().sort_by_distance((-75, 6, 353))[0], mode=Mode.SUBTRACT)

    # Sketch8 → Cut-Extrude7 (cut, up to next)
    with BuildSketch(Plane(origin=(0, 6, 0), x_dir=(1, 0, 0), z_dir=(0, 1, 0)), mode=Mode.PRIVATE) as cut_extrude7_sk1:
        with Locations(Location((288, 66, 0), (0, 0, 270))):
            Circle(SKETCH8_R)
    cut_extrude7_tool1 = extrude(cut_extrude7_sk1.sketch, amount=-CUT_EXTRUDE7_REACH, mode=Mode.PRIVATE) & part.part
    # Sketch8 → Cut-Extrude7 (cut, up to next)
    with BuildSketch(Plane(origin=(0, 6, 0), x_dir=(1, 0, 0), z_dir=(0, 1, 0)), mode=Mode.PRIVATE) as cut_extrude7_sk2:
        with Locations(Location((288, 16, 0), (0, 0, 270))):
            Circle(SKETCH8_R)
    cut_extrude7_tool2 = extrude(cut_extrude7_sk2.sketch, amount=-CUT_EXTRUDE7_REACH, mode=Mode.PRIVATE) & part.part
    # Sketch8 → Cut-Extrude7 (cut, up to next)
    with BuildSketch(Plane(origin=(0, 6, 0), x_dir=(1, 0, 0), z_dir=(0, 1, 0)), mode=Mode.PRIVATE) as cut_extrude7_sk3:
        with Locations(Location((288, -34, 0), (0, 0, 270))):
            Circle(SKETCH8_R)
    cut_extrude7_tool3 = extrude(cut_extrude7_sk3.sketch, amount=-CUT_EXTRUDE7_REACH, mode=Mode.PRIVATE) & part.part
    # Sketch8 → Cut-Extrude7 (cut, up to next)
    with BuildSketch(Plane(origin=(0, 6, 0), x_dir=(1, 0, 0), z_dir=(0, 1, 0)), mode=Mode.PRIVATE) as cut_extrude7_sk4:
        with Locations(Location((288, -84, 0), (0, 0, 270))):
            Circle(SKETCH8_R)
    cut_extrude7_tool4 = extrude(cut_extrude7_sk4.sketch, amount=-CUT_EXTRUDE7_REACH, mode=Mode.PRIVATE) & part.part
    cut_extrude7_1 = cut_extrude7_tool1.solids().sort_by_distance((288, 6, -66))[0]
    add(cut_extrude7_1, mode=Mode.SUBTRACT)
    cut_extrude7_2 = cut_extrude7_tool2.solids().sort_by_distance((288, 6, -16))[0]
    add(cut_extrude7_2, mode=Mode.SUBTRACT)
    cut_extrude7_3 = cut_extrude7_tool3.solids().sort_by_distance((288, 6, 34))[0]
    add(cut_extrude7_3, mode=Mode.SUBTRACT)
    cut_extrude7_4 = cut_extrude7_tool4.solids().sort_by_distance((288, 6, 84))[0]
    add(cut_extrude7_4, mode=Mode.SUBTRACT)
    cut_extrude7 = cut_extrude7_1 + cut_extrude7_2 + cut_extrude7_3 + cut_extrude7_4  # Cut-Extrude7 as one shape, for the pattern or mirror that repeats it

    # Mirror6: Cut-Extrude7 across plane
    add(cut_extrude7.mirror(Plane(origin=(0, 0, 0), x_dir=(0, 0, 1), z_dir=(1, 0, 0))), mode=Mode.SUBTRACT)

    # Sketch9 → Cut-Extrude8 (cut, up to next)
    with BuildSketch(Plane(origin=(0, 6, 0), x_dir=(1, 0, 0), z_dir=(0, 1, 0)), mode=Mode.PRIVATE) as cut_extrude8_sk1:
        with Locations((0, -9)):
            Rectangle(SKETCH9_W, SKETCH9_H)
    cut_extrude8_tool1 = extrude(cut_extrude8_sk1.sketch, amount=-CUT_EXTRUDE8_REACH, mode=Mode.PRIVATE) & part.part
    add(cut_extrude8_tool1.solids().sort_by_distance((0, 6, 9))[0], mode=Mode.SUBTRACT)

    # Fillet2
    fillet2_edges = [part.edges().sort_by_distance(p)[0] for p in [
        (-300, 3, -347),
        (300, 3, -347),
        (180, 3, -227),
        (180, 3, 245),
        (-180, 3, 245),
        (-180, 3, -227),
        (300, 3, 365),
        (-300, 3, 365),
    ]]
    fillet(fillet2_edges, radius=FILLET2_R)


solid = part.part
